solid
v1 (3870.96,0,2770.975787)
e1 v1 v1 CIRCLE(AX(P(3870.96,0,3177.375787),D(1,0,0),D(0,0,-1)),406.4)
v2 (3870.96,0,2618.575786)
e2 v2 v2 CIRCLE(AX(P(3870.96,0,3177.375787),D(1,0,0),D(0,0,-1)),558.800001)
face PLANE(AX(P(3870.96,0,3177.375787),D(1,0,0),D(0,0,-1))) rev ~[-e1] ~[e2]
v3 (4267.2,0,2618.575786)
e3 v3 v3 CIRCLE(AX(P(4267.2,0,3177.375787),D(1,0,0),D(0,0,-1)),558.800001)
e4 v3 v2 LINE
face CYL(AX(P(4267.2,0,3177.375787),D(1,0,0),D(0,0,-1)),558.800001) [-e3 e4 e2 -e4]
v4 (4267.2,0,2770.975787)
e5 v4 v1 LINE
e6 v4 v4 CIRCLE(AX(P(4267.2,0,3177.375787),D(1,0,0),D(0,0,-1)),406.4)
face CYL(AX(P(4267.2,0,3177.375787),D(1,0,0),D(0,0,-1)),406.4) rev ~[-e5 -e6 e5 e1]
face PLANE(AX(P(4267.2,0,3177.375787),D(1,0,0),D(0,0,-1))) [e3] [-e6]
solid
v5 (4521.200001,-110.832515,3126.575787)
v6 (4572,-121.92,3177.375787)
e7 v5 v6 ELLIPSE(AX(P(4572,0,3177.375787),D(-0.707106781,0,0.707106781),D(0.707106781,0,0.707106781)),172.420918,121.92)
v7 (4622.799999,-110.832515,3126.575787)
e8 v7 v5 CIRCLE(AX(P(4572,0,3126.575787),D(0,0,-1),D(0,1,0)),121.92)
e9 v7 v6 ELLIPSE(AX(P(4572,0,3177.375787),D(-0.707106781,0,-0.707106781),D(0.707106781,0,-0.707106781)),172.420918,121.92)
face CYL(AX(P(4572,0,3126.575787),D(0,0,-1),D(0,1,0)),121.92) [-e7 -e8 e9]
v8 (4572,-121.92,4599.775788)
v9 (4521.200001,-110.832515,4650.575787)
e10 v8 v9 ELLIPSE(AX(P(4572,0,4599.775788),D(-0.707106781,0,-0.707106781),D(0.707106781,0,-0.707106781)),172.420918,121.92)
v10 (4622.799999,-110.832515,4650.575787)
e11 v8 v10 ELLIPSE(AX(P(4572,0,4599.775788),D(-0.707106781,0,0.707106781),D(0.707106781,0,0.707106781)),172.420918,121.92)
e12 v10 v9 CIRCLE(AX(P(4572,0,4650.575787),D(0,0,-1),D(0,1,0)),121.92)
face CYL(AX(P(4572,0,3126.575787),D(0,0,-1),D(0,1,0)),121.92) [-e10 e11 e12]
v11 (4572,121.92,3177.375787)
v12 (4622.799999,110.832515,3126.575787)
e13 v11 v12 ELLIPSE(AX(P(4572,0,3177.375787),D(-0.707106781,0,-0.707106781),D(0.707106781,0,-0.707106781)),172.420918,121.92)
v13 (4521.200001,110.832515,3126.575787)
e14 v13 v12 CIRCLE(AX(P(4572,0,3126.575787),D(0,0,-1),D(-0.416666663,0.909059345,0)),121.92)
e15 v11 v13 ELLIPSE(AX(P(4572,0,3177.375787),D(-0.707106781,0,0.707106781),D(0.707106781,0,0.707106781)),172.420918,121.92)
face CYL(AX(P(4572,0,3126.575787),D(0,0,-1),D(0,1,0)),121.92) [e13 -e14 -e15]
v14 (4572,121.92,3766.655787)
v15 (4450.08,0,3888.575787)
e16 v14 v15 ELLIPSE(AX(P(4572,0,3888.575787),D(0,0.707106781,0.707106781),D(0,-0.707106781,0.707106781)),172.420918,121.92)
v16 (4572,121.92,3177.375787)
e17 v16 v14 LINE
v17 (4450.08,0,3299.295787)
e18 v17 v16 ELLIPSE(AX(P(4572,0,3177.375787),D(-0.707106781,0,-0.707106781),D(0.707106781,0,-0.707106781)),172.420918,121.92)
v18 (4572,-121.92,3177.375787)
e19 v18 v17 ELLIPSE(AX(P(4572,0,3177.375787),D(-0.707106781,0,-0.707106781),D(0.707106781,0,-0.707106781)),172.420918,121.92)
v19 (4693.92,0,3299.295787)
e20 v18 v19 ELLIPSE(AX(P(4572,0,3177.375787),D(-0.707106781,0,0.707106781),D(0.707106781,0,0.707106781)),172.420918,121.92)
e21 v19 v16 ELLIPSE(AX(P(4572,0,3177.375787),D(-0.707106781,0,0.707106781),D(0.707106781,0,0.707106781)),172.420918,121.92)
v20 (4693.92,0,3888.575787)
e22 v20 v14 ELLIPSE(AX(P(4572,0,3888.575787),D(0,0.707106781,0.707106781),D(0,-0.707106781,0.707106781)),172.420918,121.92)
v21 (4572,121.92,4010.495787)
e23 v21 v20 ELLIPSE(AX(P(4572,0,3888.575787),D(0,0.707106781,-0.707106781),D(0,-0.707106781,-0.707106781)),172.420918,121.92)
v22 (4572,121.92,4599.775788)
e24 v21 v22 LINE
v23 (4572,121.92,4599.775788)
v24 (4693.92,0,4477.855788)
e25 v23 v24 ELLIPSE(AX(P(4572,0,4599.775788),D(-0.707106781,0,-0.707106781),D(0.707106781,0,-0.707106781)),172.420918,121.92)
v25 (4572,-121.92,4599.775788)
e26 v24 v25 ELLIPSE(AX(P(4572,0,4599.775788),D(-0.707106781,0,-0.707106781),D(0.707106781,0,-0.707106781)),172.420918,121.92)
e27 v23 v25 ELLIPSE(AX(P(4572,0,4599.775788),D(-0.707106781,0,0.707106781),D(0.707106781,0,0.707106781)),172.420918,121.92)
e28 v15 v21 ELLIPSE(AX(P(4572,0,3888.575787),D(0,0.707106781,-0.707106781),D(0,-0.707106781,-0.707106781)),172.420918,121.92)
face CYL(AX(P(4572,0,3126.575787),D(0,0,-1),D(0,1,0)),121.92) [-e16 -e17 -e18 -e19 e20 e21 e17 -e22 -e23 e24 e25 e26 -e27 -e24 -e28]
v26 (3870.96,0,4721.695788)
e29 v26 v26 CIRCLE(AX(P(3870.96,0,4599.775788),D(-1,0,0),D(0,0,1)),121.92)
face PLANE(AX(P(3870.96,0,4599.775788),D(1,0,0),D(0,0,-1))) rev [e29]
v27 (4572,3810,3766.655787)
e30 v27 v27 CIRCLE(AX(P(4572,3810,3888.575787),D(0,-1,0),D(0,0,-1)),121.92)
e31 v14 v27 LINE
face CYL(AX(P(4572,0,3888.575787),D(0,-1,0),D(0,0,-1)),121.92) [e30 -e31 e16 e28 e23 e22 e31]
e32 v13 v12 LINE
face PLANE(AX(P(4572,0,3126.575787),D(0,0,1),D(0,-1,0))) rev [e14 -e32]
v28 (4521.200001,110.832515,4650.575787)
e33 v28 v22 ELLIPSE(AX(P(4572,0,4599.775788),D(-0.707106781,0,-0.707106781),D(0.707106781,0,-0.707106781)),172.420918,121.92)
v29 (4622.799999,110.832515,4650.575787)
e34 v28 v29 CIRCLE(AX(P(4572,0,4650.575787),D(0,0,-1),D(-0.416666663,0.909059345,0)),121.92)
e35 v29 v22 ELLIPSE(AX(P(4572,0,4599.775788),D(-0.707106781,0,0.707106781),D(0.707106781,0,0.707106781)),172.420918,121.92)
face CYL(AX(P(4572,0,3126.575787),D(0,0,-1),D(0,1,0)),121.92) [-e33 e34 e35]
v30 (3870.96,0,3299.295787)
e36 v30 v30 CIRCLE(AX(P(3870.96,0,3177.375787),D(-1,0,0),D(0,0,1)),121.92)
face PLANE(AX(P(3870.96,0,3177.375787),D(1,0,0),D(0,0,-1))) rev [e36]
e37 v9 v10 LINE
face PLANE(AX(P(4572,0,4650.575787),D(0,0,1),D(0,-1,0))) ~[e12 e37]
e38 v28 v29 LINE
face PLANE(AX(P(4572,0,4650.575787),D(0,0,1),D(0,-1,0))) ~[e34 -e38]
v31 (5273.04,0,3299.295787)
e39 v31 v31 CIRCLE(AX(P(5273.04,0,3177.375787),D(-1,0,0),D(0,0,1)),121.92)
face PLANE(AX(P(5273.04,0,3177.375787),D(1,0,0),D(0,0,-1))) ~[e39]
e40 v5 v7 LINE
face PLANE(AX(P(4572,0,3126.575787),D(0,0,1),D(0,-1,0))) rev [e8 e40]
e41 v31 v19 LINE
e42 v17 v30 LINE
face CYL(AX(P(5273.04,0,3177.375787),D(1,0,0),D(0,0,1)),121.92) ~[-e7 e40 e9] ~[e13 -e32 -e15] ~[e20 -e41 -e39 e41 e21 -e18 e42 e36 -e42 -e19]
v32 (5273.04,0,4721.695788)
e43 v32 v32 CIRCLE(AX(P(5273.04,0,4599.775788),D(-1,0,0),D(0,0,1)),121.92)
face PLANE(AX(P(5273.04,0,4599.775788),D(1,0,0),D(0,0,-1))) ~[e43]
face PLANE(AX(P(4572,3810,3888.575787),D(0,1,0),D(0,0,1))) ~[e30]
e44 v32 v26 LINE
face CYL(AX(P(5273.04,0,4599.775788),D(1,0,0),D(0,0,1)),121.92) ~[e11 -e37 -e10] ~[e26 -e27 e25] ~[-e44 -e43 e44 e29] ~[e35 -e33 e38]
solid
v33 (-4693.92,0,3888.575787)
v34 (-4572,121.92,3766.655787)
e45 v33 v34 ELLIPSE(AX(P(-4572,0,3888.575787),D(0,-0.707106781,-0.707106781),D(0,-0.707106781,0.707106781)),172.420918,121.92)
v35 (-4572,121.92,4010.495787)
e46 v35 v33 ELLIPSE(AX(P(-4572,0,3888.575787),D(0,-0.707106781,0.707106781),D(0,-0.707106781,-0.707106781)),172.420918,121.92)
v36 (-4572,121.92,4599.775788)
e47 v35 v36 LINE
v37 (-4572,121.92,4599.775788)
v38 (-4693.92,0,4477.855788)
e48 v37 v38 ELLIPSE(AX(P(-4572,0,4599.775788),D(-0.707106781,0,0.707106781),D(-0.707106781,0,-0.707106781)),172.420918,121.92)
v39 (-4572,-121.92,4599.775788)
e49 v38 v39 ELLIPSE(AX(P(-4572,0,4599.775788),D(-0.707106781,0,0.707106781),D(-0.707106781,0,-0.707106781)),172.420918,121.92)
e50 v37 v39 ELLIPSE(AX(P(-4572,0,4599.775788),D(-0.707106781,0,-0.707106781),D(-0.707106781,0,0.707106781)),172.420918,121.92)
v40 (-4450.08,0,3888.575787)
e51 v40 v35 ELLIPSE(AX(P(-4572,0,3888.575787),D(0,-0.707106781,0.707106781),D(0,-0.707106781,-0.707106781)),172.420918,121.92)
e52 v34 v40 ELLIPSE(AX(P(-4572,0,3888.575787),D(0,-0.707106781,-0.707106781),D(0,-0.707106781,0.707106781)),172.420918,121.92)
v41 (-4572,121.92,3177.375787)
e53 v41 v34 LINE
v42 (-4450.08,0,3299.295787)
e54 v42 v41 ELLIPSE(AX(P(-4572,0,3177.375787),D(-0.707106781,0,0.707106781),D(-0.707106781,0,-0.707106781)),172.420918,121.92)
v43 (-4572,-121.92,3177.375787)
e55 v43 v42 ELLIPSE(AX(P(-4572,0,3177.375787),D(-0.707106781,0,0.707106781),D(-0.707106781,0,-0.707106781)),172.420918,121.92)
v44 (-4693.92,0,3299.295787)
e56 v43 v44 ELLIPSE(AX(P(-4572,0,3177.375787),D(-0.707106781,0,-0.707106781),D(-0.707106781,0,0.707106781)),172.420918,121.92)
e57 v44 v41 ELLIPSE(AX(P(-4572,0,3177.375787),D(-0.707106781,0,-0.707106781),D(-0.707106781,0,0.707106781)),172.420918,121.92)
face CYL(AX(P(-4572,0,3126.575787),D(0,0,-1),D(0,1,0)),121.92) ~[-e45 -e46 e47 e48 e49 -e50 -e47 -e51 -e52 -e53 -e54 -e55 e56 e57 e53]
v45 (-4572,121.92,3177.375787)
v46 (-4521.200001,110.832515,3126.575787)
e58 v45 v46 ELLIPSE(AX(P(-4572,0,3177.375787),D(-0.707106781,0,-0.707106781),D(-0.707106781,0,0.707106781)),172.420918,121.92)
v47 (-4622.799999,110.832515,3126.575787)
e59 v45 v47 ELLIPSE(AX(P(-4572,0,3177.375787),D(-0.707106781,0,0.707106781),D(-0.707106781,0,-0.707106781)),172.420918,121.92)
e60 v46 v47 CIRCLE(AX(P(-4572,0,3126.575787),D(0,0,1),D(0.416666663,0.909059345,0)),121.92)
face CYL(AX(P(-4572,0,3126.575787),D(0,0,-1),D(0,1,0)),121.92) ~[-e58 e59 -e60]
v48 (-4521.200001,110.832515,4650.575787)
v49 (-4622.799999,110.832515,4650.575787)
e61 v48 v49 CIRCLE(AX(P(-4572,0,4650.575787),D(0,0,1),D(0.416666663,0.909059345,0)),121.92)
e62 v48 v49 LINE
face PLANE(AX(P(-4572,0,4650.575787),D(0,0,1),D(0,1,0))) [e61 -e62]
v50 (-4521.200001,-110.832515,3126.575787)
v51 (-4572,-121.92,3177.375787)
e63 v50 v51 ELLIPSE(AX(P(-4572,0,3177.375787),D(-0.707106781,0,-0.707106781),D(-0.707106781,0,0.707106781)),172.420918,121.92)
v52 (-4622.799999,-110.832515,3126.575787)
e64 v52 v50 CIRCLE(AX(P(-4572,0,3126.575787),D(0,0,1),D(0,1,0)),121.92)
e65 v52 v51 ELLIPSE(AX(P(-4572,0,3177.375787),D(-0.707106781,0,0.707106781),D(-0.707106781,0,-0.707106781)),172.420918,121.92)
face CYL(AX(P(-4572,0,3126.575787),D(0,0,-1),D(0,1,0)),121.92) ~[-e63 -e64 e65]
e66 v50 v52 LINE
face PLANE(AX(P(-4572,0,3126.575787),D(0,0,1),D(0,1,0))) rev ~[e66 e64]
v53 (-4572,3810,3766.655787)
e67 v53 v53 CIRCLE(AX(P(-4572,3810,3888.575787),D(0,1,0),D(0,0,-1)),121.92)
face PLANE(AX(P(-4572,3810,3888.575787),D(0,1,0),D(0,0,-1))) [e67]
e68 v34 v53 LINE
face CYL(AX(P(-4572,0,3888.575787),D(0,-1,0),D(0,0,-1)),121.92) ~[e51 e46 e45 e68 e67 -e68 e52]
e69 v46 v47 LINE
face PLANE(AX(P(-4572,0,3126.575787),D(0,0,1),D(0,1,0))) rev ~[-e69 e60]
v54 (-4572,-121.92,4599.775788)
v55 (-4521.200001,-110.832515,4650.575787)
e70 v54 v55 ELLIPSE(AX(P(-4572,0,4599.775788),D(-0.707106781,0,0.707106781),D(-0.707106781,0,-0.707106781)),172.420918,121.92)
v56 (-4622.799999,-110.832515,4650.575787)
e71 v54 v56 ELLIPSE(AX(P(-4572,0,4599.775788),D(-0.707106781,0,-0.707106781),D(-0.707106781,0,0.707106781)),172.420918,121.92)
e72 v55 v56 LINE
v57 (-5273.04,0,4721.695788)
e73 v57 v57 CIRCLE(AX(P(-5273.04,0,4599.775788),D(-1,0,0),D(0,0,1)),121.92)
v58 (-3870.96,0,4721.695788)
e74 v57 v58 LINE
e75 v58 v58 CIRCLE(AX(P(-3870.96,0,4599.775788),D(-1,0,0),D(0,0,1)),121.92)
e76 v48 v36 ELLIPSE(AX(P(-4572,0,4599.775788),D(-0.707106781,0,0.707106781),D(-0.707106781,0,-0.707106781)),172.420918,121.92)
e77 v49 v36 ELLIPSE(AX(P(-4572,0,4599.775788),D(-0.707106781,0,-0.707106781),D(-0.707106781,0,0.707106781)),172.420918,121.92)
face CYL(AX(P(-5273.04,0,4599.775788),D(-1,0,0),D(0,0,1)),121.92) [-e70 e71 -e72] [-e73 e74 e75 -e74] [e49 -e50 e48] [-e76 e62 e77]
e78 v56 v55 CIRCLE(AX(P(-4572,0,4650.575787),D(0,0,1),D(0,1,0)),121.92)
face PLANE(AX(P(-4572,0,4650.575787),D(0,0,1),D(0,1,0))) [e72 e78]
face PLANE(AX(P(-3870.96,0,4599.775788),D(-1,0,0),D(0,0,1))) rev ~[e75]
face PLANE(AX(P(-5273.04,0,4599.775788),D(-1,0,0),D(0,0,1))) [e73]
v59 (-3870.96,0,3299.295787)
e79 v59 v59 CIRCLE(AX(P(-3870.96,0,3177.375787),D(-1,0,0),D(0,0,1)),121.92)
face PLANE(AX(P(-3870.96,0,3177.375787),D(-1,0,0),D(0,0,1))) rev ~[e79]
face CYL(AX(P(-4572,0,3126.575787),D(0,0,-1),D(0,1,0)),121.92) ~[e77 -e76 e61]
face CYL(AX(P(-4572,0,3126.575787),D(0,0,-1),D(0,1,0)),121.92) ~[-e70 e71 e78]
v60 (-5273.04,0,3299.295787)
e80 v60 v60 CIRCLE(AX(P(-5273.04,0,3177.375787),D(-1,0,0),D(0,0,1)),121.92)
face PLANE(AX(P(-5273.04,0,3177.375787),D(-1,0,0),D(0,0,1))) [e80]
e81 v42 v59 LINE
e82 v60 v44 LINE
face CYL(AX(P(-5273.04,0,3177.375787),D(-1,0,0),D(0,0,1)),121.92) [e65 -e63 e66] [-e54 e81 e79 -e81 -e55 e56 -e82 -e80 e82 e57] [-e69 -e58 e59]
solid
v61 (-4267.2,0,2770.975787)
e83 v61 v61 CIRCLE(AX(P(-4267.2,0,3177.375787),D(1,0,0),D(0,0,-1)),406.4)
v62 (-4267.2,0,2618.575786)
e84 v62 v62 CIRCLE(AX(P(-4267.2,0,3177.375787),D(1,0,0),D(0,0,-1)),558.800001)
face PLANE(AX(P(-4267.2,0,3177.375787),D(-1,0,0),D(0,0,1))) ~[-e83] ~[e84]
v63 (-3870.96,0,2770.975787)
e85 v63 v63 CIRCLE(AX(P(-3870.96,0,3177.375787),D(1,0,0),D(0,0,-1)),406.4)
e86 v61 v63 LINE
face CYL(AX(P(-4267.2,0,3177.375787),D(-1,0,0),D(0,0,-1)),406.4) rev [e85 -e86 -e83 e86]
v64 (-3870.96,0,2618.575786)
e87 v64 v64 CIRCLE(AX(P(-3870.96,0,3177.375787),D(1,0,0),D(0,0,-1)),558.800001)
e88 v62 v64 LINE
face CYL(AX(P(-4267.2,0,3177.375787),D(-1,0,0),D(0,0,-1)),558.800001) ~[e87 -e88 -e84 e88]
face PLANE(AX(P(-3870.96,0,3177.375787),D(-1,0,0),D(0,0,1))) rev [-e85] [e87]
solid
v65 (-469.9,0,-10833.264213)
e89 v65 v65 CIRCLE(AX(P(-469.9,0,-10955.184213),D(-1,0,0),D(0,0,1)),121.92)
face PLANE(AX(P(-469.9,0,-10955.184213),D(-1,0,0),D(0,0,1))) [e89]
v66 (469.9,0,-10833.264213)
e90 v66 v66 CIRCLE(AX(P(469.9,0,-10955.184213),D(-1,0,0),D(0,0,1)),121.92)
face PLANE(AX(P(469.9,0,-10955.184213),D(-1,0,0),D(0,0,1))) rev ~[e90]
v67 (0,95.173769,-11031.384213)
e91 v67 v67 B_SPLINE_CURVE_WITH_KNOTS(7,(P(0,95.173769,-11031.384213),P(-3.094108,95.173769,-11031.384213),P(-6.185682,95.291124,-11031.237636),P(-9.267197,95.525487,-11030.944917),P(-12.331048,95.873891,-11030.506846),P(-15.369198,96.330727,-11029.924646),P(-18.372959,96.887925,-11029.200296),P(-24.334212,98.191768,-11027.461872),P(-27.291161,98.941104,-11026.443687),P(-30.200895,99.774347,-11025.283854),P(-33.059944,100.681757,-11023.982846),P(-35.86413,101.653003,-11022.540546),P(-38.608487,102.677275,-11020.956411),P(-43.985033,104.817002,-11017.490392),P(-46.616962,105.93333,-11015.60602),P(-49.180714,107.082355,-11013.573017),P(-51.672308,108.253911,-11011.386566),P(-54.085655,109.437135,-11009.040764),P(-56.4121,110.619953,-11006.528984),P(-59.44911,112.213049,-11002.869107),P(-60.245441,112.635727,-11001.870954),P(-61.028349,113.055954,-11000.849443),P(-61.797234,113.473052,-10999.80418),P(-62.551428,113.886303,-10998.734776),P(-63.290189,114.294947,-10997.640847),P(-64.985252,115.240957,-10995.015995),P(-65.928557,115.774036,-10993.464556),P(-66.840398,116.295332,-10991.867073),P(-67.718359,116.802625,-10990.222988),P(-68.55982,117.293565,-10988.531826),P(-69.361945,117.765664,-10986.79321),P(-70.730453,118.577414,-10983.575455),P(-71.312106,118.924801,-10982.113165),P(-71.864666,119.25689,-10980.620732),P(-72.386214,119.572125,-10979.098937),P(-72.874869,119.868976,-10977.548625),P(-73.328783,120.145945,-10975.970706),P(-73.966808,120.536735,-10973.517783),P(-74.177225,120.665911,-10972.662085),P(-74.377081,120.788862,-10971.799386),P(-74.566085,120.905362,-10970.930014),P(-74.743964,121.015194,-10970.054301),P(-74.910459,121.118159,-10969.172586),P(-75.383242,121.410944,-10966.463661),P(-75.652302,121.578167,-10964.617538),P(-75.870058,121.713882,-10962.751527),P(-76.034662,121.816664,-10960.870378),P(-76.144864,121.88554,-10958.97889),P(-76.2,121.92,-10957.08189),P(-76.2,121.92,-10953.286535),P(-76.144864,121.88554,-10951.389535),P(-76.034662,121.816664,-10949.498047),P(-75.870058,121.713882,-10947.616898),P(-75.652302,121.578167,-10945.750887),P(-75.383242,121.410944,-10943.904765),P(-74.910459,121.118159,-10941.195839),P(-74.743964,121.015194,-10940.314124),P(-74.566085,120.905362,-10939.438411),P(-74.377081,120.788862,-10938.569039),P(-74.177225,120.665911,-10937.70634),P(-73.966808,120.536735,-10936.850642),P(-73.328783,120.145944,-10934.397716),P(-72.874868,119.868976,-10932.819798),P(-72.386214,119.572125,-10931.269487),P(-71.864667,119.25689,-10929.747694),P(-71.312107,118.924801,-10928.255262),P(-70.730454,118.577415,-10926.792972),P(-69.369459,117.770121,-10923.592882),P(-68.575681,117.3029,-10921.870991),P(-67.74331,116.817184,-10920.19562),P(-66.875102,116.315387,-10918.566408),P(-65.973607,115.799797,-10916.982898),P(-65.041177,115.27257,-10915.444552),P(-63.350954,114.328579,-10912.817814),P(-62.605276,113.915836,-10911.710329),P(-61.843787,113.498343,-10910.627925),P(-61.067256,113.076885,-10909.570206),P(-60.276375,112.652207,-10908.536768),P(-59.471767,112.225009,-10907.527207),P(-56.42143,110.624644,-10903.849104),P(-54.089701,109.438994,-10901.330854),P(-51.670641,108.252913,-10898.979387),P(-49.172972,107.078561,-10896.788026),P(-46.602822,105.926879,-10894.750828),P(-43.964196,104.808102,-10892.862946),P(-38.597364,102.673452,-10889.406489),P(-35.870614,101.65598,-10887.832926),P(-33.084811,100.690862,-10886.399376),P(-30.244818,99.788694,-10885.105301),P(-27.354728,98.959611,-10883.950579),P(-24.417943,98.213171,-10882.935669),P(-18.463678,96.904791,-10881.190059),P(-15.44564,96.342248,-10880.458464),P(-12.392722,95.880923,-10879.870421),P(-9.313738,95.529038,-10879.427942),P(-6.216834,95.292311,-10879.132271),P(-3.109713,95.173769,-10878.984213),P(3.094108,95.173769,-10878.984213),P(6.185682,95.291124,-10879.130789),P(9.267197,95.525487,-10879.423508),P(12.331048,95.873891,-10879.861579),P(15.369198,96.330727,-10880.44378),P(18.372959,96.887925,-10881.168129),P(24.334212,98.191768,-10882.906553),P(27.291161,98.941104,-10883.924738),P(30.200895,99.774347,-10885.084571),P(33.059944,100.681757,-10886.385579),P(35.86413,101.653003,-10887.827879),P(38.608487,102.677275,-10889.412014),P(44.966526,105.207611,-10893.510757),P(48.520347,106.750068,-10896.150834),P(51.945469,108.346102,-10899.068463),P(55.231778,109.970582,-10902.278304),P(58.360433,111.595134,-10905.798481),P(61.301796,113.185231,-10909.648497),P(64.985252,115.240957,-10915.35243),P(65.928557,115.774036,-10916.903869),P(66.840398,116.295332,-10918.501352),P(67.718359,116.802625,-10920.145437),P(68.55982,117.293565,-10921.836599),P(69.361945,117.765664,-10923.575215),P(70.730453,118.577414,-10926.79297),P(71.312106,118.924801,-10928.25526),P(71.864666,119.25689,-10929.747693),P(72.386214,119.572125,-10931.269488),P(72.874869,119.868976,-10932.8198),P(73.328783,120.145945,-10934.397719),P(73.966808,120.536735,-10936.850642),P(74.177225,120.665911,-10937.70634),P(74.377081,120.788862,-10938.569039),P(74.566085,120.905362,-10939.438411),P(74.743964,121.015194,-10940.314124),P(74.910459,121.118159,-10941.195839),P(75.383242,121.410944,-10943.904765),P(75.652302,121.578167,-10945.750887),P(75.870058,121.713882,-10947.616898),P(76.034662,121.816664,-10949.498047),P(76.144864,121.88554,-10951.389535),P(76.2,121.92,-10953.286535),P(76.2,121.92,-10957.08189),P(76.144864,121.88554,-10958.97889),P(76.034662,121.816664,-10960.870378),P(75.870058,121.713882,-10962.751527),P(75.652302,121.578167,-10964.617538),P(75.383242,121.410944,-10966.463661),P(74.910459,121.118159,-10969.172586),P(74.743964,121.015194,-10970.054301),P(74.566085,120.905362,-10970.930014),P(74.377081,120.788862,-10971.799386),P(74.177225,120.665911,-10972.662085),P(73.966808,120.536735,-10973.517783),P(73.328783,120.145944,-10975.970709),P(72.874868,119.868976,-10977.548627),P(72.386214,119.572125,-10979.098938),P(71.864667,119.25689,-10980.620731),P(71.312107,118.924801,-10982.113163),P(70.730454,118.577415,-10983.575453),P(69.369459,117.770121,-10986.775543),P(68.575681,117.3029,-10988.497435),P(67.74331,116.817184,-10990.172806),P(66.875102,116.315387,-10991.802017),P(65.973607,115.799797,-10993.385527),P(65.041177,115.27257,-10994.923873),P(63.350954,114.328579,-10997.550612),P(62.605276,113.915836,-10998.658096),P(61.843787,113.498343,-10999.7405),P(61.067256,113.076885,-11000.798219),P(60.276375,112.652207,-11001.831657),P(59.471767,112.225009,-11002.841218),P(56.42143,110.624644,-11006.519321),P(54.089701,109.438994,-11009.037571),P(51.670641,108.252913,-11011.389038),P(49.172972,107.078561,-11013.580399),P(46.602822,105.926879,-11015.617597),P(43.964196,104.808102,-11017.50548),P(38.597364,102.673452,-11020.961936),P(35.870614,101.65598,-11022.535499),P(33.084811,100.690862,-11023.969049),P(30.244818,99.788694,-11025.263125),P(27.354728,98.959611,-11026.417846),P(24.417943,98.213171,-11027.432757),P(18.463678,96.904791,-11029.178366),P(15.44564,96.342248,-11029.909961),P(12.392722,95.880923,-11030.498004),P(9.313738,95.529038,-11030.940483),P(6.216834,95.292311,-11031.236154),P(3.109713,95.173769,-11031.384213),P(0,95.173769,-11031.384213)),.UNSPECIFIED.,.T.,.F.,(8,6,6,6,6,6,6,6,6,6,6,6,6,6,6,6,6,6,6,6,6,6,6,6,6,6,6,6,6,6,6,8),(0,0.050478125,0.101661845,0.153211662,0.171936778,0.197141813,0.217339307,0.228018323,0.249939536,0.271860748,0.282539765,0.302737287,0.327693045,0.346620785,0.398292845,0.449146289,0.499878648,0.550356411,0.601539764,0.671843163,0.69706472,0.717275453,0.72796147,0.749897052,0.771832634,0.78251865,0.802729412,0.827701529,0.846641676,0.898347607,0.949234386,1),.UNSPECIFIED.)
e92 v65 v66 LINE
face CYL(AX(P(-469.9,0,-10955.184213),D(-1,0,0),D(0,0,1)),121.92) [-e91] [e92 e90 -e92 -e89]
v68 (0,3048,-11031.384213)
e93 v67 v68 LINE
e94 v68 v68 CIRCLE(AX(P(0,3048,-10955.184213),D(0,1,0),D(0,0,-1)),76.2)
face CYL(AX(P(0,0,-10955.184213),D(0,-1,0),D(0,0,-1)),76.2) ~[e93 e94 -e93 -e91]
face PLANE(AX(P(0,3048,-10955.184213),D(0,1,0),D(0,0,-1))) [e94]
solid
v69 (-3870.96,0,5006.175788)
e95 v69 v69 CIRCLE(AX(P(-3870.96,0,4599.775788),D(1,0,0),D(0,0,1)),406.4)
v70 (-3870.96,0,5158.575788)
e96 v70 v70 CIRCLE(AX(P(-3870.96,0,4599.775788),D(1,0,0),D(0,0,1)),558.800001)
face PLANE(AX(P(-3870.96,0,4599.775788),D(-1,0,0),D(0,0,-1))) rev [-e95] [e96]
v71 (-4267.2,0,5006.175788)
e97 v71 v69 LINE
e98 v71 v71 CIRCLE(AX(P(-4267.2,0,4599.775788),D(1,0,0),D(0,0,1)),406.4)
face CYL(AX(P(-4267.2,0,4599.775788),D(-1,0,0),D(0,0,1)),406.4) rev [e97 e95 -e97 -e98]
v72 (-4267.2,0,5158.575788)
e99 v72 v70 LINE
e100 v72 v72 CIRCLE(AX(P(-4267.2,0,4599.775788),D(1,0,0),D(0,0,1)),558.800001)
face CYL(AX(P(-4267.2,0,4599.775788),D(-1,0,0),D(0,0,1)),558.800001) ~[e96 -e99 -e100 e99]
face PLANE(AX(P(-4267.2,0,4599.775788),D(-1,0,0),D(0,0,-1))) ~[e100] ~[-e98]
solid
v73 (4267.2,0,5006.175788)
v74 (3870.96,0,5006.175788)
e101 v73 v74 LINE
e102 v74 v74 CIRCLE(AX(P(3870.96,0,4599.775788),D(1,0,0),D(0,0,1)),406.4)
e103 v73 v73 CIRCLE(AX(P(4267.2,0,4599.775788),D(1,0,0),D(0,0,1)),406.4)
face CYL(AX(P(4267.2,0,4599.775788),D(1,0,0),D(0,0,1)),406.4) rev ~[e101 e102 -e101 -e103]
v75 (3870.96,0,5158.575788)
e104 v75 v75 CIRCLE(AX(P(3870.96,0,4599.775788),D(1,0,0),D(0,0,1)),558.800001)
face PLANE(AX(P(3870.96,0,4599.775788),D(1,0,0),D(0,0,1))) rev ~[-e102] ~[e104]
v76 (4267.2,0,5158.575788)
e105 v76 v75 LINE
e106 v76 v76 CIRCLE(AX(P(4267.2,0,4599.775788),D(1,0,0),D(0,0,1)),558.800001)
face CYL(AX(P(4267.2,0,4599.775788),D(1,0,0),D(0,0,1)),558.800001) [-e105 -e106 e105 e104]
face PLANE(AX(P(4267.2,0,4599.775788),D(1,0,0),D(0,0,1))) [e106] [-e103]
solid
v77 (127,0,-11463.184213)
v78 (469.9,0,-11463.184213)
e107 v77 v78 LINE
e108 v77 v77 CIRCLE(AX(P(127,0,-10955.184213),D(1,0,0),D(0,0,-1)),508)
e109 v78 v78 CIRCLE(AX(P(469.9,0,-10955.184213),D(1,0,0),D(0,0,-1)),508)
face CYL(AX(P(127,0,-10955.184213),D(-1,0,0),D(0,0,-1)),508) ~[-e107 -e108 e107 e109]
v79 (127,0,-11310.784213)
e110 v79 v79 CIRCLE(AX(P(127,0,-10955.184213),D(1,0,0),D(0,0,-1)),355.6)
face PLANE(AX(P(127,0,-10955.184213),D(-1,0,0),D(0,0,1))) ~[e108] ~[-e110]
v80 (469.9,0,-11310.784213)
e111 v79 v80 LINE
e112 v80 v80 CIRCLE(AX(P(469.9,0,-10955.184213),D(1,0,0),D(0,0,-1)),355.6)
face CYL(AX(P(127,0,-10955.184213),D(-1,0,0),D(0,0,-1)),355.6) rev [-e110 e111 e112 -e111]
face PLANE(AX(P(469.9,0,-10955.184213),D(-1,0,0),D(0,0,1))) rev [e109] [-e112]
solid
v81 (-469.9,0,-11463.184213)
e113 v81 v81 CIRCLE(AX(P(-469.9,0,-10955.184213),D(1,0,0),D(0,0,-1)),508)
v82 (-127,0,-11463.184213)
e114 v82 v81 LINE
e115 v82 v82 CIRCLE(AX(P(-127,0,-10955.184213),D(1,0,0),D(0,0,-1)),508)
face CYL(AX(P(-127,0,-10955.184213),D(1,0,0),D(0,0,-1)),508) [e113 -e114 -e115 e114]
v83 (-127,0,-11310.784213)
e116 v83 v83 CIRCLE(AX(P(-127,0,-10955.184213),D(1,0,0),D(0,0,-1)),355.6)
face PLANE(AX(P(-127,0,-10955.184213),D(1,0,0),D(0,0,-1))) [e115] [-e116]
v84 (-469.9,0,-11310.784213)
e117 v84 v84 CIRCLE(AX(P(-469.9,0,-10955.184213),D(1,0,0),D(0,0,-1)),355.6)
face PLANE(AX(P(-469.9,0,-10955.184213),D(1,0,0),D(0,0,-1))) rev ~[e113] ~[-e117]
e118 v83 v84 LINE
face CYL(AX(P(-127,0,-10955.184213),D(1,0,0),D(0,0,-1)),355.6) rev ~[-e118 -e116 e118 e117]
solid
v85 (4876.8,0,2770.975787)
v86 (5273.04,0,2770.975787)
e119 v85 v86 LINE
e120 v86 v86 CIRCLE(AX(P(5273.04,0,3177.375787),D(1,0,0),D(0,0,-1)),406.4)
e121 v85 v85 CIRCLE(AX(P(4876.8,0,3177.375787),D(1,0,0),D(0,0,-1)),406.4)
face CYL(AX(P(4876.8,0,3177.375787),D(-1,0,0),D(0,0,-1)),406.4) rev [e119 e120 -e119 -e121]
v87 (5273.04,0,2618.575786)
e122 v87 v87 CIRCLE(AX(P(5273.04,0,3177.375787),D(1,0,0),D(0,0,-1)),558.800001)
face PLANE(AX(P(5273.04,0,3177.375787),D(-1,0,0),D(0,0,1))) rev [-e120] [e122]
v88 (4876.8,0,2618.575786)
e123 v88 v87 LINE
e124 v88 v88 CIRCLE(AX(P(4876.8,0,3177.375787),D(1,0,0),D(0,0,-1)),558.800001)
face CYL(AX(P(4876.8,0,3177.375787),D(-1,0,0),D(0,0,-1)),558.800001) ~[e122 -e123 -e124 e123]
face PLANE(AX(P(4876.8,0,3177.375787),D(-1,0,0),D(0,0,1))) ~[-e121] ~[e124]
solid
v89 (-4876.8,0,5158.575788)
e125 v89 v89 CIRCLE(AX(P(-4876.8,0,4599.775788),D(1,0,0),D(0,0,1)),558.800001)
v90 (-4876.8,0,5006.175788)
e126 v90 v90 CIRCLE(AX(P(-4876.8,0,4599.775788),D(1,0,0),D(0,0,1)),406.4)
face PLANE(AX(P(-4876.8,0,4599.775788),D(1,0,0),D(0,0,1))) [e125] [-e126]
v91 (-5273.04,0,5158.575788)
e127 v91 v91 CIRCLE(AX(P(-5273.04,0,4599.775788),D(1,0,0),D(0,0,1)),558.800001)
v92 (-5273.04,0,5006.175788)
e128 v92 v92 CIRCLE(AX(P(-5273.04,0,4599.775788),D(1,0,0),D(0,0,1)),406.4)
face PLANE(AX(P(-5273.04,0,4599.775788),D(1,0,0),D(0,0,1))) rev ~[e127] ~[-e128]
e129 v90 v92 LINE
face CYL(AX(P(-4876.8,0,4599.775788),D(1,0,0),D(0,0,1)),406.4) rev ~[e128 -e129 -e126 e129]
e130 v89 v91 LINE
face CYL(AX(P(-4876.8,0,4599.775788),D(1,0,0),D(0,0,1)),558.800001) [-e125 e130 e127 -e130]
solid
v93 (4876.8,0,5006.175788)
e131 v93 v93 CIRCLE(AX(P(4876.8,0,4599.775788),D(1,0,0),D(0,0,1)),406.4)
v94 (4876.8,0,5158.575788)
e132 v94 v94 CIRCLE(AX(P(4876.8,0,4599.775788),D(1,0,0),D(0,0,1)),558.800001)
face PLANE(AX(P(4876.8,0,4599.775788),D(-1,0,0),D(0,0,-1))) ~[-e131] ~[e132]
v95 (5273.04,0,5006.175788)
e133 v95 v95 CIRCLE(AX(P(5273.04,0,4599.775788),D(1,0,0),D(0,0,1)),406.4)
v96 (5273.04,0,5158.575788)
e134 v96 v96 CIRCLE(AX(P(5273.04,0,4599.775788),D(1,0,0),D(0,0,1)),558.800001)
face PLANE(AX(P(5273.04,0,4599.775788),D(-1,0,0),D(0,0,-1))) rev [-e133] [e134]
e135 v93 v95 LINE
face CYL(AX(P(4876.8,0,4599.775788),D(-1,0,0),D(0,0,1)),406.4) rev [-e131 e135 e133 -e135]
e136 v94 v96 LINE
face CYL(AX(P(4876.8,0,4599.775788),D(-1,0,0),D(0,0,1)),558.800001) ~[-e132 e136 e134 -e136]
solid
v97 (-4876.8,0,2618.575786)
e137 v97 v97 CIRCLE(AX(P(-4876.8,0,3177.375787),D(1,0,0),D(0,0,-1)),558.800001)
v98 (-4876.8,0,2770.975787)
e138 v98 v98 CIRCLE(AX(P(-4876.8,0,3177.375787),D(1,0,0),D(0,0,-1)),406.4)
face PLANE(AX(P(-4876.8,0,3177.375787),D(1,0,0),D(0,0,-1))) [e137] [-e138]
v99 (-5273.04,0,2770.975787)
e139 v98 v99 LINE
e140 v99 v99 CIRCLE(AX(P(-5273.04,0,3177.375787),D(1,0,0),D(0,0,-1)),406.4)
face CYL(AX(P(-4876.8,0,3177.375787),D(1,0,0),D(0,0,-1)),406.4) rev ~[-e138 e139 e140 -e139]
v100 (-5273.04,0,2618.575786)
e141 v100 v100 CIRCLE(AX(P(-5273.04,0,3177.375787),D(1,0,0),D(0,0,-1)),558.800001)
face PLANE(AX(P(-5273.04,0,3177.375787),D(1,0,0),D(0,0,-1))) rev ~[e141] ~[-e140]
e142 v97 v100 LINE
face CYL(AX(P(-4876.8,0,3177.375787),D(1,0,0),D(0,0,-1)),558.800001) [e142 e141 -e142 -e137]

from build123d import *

# Parameters (mm, degrees)
SKETCH16_R               = 558.8000005080007
SKETCH16_R_2             = 406.3999999999997
BOSS_EXTRUDE1_DEPTH      = 396.24
BOSS_EXTRUDE1_2_DEPTH    = 396.24
SKETCH12_R               = 121.92000000000041
BOSS_EXTRUDE2_DEPTH      = 3810.0000000000005
SKETCH17_R               = 121.92000000000046
BOSS_EXTRUDE3_DEPTH      = 1402.08
SKETCH17_R_2             = 121.92000000000138
BOSS_EXTRUDE3_2_DEPTH    = 1402.08
BOSS_EXTRUDE4_DEPTH      = 762.0000000000001
BOSS_EXTRUDE4_DEPTH_BACK = 762.0000000000001
SKETCH18_R               = 121.92000000000046
SKETCH19_R               = 507.9999999999988
SKETCH19_R_2             = 355.60000000000025
BOSS_EXTRUDE5_DEPTH      = 342.9
SKETCH20_R               = 121.92000000000138
BOSS_EXTRUDE6_DEPTH      = 939.8
SKETCH21_R               = 76.20000000000083
BOSS_EXTRUDE7_DEPTH      = 3048.0000000000005


with BuildPart() as part:
    # Sketch16 → Boss-Extrude1 (new body)
    with BuildSketch(Plane(origin=(-4876.8, 0, 0), x_dir=(0, 0, -1), z_dir=(1, 0, 0))):
        with Locations((-3177.3757869238866, -1.866e-14)):
            Circle(SKETCH16_R)
        with Locations((-3177.3757869238866, -1.866e-14)):
            Circle(SKETCH16_R_2, mode=Mode.SUBTRACT)
    extrude(amount=-BOSS_EXTRUDE1_DEPTH)


with BuildPart() as body_2:
    # Sketch16 → Boss-Extrude1 2 (new body)
    with BuildSketch(Plane(origin=(-4876.8, 0, 0), x_dir=(0, 0, -1), z_dir=(1, 0, 0))):
        with Locations(Location((-4599.775787939885, -1.866e-14, 0), (0, 0, 180))):
            Circle(SKETCH16_R)
        with Locations(Location((-4599.775787939885, -1.866e-14, 0), (0, 0, 180))):
            Circle(SKETCH16_R_2, mode=Mode.SUBTRACT)
    extrude(amount=-BOSS_EXTRUDE1_2_DEPTH)


with BuildPart() as body_3:
    # Mirror2: mirrored copy
    add(part.part.mirror(Plane(origin=(-4572, 0, 0), x_dir=(0, 0, 1), z_dir=(1, 0, 0))))


with BuildPart() as body_4:
    # Mirror2 2: mirrored copy
    add(body_2.part.mirror(Plane(origin=(-4572, 0, 0), x_dir=(0, 0, 1), z_dir=(1, 0, 0))))


with BuildPart() as body_5:
    # Sketch12 → Boss-Extrude2 (new body)
    with BuildSketch(Plane(origin=(0, 0, 0), x_dir=(1, 0, 0), z_dir=(0, 1, 0))):
        with Locations(Location((-4572, -3888.5757874318856, 0), (0, 0, 90))):
            Circle(SKETCH12_R)
    extrude(amount=BOSS_EXTRUDE2_DEPTH)



with BuildPart() as body_6:
    # Sketch17 → Boss-Extrude3 (new body)
    with BuildSketch(Plane.ZY.offset(5273.04)):
        with Locations((3177.3757869238866, -1.866e-14)):
            Circle(SKETCH17_R)
    extrude(amount=-BOSS_EXTRUDE3_DEPTH)


with BuildPart() as body_7:
    # Sketch17 → Boss-Extrude3 2 (new body)
    with BuildSketch(Plane.ZY.offset(5273.04)):
        with Locations((4599.775787939885, -1.866e-14)):
            Circle(SKETCH17_R_2)
    extrude(amount=-BOSS_EXTRUDE3_2_DEPTH)


with BuildPart() as body_5_1:
    add(body_5.part)

    add(body_6.part)  # Boss-Extrude4 merges body 6

    add(body_7.part)  # Boss-Extrude4 merges body 7
    # Sketch18 → Boss-Extrude4 (add, two sides: drawn at the far end of the back side and taken through both)
    with BuildSketch(Plane.XY.offset(3888.5757874318865).offset(-BOSS_EXTRUDE4_DEPTH_BACK)):
        with Locations(Location((-4572, 0, 0), (0, 0, 90))):
            Circle(SKETCH18_R)
    extrude(amount=BOSS_EXTRUDE4_DEPTH + BOSS_EXTRUDE4_DEPTH_BACK)


with BuildPart() as body_6_2:
    # Sketch19 → Boss-Extrude5 (new body)
    with BuildSketch(Plane(origin=(-126.99999999999945, 0, 0), x_dir=(0, 0, -1), z_dir=(1, 0, 0))):
        with Locations((10955.184212568114, -2.141e-14)):
            Circle(SKETCH19_R)
        with Locations((10955.184212568114, -2.141e-14)):
            Circle(SKETCH19_R_2, mode=Mode.SUBTRACT)
    extrude(amount=-BOSS_EXTRUDE5_DEPTH)


with BuildPart() as body_7_2:
    # Mirror4: mirrored copy
    add(body_6_2.part.mirror(Plane(origin=(0, 0, 0), x_dir=(0, 0, 1), z_dir=(1, 0, 0))))


with BuildPart() as body_8:
    # Mirror4 2: mirrored copy
    add(body_2.part.mirror(Plane(origin=(0, 0, 0), x_dir=(0, 0, 1), z_dir=(1, 0, 0))))


with BuildPart() as body_9:
    # Mirror4 3: mirrored copy
    add(part.part.mirror(Plane(origin=(0, 0, 0), x_dir=(0, 0, 1), z_dir=(1, 0, 0))))


with BuildPart() as body_10:
    # Mirror4 4: mirrored copy
    add(body_4.part.mirror(Plane(origin=(0, 0, 0), x_dir=(0, 0, 1), z_dir=(1, 0, 0))))


with BuildPart() as body_11:
    # Mirror4 5: mirrored copy
    add(body_5_1.part.mirror(Plane(origin=(0, 0, 0), x_dir=(0, 0, 1), z_dir=(1, 0, 0))))


with BuildPart() as body_12:
    # Mirror4 6: mirrored copy
    add(body_3.part.mirror(Plane(origin=(0, 0, 0), x_dir=(0, 0, 1), z_dir=(1, 0, 0))))


with BuildPart() as body_13:
    # Sketch20 → Boss-Extrude6 (new body)
    with BuildSketch(Plane.ZY.offset(469.8999999999994)):
        with Locations((-10955.184212568114, -2.141e-14)):
            Circle(SKETCH20_R)
    extrude(amount=-BOSS_EXTRUDE6_DEPTH)

    # Sketch21 → Boss-Extrude7 (add)
    with BuildSketch(Plane(origin=(0, 0, 0), x_dir=(1, 0, 0), z_dir=(0, 1, 0))):
        with Locations(Location((7.3161e-13, 10955.184212568114, 0), (0, 0, 90))):
            Circle(SKETCH21_R)
    extrude(amount=BOSS_EXTRUDE7_DEPTH)


solid = Compound([part.part, body_2.part, body_3.part, body_4.part, body_5_1.part, body_6_2.part, body_7_2.part, body_8.part, body_9.part, body_10.part, body_11.part, body_12.part, body_13.part])
